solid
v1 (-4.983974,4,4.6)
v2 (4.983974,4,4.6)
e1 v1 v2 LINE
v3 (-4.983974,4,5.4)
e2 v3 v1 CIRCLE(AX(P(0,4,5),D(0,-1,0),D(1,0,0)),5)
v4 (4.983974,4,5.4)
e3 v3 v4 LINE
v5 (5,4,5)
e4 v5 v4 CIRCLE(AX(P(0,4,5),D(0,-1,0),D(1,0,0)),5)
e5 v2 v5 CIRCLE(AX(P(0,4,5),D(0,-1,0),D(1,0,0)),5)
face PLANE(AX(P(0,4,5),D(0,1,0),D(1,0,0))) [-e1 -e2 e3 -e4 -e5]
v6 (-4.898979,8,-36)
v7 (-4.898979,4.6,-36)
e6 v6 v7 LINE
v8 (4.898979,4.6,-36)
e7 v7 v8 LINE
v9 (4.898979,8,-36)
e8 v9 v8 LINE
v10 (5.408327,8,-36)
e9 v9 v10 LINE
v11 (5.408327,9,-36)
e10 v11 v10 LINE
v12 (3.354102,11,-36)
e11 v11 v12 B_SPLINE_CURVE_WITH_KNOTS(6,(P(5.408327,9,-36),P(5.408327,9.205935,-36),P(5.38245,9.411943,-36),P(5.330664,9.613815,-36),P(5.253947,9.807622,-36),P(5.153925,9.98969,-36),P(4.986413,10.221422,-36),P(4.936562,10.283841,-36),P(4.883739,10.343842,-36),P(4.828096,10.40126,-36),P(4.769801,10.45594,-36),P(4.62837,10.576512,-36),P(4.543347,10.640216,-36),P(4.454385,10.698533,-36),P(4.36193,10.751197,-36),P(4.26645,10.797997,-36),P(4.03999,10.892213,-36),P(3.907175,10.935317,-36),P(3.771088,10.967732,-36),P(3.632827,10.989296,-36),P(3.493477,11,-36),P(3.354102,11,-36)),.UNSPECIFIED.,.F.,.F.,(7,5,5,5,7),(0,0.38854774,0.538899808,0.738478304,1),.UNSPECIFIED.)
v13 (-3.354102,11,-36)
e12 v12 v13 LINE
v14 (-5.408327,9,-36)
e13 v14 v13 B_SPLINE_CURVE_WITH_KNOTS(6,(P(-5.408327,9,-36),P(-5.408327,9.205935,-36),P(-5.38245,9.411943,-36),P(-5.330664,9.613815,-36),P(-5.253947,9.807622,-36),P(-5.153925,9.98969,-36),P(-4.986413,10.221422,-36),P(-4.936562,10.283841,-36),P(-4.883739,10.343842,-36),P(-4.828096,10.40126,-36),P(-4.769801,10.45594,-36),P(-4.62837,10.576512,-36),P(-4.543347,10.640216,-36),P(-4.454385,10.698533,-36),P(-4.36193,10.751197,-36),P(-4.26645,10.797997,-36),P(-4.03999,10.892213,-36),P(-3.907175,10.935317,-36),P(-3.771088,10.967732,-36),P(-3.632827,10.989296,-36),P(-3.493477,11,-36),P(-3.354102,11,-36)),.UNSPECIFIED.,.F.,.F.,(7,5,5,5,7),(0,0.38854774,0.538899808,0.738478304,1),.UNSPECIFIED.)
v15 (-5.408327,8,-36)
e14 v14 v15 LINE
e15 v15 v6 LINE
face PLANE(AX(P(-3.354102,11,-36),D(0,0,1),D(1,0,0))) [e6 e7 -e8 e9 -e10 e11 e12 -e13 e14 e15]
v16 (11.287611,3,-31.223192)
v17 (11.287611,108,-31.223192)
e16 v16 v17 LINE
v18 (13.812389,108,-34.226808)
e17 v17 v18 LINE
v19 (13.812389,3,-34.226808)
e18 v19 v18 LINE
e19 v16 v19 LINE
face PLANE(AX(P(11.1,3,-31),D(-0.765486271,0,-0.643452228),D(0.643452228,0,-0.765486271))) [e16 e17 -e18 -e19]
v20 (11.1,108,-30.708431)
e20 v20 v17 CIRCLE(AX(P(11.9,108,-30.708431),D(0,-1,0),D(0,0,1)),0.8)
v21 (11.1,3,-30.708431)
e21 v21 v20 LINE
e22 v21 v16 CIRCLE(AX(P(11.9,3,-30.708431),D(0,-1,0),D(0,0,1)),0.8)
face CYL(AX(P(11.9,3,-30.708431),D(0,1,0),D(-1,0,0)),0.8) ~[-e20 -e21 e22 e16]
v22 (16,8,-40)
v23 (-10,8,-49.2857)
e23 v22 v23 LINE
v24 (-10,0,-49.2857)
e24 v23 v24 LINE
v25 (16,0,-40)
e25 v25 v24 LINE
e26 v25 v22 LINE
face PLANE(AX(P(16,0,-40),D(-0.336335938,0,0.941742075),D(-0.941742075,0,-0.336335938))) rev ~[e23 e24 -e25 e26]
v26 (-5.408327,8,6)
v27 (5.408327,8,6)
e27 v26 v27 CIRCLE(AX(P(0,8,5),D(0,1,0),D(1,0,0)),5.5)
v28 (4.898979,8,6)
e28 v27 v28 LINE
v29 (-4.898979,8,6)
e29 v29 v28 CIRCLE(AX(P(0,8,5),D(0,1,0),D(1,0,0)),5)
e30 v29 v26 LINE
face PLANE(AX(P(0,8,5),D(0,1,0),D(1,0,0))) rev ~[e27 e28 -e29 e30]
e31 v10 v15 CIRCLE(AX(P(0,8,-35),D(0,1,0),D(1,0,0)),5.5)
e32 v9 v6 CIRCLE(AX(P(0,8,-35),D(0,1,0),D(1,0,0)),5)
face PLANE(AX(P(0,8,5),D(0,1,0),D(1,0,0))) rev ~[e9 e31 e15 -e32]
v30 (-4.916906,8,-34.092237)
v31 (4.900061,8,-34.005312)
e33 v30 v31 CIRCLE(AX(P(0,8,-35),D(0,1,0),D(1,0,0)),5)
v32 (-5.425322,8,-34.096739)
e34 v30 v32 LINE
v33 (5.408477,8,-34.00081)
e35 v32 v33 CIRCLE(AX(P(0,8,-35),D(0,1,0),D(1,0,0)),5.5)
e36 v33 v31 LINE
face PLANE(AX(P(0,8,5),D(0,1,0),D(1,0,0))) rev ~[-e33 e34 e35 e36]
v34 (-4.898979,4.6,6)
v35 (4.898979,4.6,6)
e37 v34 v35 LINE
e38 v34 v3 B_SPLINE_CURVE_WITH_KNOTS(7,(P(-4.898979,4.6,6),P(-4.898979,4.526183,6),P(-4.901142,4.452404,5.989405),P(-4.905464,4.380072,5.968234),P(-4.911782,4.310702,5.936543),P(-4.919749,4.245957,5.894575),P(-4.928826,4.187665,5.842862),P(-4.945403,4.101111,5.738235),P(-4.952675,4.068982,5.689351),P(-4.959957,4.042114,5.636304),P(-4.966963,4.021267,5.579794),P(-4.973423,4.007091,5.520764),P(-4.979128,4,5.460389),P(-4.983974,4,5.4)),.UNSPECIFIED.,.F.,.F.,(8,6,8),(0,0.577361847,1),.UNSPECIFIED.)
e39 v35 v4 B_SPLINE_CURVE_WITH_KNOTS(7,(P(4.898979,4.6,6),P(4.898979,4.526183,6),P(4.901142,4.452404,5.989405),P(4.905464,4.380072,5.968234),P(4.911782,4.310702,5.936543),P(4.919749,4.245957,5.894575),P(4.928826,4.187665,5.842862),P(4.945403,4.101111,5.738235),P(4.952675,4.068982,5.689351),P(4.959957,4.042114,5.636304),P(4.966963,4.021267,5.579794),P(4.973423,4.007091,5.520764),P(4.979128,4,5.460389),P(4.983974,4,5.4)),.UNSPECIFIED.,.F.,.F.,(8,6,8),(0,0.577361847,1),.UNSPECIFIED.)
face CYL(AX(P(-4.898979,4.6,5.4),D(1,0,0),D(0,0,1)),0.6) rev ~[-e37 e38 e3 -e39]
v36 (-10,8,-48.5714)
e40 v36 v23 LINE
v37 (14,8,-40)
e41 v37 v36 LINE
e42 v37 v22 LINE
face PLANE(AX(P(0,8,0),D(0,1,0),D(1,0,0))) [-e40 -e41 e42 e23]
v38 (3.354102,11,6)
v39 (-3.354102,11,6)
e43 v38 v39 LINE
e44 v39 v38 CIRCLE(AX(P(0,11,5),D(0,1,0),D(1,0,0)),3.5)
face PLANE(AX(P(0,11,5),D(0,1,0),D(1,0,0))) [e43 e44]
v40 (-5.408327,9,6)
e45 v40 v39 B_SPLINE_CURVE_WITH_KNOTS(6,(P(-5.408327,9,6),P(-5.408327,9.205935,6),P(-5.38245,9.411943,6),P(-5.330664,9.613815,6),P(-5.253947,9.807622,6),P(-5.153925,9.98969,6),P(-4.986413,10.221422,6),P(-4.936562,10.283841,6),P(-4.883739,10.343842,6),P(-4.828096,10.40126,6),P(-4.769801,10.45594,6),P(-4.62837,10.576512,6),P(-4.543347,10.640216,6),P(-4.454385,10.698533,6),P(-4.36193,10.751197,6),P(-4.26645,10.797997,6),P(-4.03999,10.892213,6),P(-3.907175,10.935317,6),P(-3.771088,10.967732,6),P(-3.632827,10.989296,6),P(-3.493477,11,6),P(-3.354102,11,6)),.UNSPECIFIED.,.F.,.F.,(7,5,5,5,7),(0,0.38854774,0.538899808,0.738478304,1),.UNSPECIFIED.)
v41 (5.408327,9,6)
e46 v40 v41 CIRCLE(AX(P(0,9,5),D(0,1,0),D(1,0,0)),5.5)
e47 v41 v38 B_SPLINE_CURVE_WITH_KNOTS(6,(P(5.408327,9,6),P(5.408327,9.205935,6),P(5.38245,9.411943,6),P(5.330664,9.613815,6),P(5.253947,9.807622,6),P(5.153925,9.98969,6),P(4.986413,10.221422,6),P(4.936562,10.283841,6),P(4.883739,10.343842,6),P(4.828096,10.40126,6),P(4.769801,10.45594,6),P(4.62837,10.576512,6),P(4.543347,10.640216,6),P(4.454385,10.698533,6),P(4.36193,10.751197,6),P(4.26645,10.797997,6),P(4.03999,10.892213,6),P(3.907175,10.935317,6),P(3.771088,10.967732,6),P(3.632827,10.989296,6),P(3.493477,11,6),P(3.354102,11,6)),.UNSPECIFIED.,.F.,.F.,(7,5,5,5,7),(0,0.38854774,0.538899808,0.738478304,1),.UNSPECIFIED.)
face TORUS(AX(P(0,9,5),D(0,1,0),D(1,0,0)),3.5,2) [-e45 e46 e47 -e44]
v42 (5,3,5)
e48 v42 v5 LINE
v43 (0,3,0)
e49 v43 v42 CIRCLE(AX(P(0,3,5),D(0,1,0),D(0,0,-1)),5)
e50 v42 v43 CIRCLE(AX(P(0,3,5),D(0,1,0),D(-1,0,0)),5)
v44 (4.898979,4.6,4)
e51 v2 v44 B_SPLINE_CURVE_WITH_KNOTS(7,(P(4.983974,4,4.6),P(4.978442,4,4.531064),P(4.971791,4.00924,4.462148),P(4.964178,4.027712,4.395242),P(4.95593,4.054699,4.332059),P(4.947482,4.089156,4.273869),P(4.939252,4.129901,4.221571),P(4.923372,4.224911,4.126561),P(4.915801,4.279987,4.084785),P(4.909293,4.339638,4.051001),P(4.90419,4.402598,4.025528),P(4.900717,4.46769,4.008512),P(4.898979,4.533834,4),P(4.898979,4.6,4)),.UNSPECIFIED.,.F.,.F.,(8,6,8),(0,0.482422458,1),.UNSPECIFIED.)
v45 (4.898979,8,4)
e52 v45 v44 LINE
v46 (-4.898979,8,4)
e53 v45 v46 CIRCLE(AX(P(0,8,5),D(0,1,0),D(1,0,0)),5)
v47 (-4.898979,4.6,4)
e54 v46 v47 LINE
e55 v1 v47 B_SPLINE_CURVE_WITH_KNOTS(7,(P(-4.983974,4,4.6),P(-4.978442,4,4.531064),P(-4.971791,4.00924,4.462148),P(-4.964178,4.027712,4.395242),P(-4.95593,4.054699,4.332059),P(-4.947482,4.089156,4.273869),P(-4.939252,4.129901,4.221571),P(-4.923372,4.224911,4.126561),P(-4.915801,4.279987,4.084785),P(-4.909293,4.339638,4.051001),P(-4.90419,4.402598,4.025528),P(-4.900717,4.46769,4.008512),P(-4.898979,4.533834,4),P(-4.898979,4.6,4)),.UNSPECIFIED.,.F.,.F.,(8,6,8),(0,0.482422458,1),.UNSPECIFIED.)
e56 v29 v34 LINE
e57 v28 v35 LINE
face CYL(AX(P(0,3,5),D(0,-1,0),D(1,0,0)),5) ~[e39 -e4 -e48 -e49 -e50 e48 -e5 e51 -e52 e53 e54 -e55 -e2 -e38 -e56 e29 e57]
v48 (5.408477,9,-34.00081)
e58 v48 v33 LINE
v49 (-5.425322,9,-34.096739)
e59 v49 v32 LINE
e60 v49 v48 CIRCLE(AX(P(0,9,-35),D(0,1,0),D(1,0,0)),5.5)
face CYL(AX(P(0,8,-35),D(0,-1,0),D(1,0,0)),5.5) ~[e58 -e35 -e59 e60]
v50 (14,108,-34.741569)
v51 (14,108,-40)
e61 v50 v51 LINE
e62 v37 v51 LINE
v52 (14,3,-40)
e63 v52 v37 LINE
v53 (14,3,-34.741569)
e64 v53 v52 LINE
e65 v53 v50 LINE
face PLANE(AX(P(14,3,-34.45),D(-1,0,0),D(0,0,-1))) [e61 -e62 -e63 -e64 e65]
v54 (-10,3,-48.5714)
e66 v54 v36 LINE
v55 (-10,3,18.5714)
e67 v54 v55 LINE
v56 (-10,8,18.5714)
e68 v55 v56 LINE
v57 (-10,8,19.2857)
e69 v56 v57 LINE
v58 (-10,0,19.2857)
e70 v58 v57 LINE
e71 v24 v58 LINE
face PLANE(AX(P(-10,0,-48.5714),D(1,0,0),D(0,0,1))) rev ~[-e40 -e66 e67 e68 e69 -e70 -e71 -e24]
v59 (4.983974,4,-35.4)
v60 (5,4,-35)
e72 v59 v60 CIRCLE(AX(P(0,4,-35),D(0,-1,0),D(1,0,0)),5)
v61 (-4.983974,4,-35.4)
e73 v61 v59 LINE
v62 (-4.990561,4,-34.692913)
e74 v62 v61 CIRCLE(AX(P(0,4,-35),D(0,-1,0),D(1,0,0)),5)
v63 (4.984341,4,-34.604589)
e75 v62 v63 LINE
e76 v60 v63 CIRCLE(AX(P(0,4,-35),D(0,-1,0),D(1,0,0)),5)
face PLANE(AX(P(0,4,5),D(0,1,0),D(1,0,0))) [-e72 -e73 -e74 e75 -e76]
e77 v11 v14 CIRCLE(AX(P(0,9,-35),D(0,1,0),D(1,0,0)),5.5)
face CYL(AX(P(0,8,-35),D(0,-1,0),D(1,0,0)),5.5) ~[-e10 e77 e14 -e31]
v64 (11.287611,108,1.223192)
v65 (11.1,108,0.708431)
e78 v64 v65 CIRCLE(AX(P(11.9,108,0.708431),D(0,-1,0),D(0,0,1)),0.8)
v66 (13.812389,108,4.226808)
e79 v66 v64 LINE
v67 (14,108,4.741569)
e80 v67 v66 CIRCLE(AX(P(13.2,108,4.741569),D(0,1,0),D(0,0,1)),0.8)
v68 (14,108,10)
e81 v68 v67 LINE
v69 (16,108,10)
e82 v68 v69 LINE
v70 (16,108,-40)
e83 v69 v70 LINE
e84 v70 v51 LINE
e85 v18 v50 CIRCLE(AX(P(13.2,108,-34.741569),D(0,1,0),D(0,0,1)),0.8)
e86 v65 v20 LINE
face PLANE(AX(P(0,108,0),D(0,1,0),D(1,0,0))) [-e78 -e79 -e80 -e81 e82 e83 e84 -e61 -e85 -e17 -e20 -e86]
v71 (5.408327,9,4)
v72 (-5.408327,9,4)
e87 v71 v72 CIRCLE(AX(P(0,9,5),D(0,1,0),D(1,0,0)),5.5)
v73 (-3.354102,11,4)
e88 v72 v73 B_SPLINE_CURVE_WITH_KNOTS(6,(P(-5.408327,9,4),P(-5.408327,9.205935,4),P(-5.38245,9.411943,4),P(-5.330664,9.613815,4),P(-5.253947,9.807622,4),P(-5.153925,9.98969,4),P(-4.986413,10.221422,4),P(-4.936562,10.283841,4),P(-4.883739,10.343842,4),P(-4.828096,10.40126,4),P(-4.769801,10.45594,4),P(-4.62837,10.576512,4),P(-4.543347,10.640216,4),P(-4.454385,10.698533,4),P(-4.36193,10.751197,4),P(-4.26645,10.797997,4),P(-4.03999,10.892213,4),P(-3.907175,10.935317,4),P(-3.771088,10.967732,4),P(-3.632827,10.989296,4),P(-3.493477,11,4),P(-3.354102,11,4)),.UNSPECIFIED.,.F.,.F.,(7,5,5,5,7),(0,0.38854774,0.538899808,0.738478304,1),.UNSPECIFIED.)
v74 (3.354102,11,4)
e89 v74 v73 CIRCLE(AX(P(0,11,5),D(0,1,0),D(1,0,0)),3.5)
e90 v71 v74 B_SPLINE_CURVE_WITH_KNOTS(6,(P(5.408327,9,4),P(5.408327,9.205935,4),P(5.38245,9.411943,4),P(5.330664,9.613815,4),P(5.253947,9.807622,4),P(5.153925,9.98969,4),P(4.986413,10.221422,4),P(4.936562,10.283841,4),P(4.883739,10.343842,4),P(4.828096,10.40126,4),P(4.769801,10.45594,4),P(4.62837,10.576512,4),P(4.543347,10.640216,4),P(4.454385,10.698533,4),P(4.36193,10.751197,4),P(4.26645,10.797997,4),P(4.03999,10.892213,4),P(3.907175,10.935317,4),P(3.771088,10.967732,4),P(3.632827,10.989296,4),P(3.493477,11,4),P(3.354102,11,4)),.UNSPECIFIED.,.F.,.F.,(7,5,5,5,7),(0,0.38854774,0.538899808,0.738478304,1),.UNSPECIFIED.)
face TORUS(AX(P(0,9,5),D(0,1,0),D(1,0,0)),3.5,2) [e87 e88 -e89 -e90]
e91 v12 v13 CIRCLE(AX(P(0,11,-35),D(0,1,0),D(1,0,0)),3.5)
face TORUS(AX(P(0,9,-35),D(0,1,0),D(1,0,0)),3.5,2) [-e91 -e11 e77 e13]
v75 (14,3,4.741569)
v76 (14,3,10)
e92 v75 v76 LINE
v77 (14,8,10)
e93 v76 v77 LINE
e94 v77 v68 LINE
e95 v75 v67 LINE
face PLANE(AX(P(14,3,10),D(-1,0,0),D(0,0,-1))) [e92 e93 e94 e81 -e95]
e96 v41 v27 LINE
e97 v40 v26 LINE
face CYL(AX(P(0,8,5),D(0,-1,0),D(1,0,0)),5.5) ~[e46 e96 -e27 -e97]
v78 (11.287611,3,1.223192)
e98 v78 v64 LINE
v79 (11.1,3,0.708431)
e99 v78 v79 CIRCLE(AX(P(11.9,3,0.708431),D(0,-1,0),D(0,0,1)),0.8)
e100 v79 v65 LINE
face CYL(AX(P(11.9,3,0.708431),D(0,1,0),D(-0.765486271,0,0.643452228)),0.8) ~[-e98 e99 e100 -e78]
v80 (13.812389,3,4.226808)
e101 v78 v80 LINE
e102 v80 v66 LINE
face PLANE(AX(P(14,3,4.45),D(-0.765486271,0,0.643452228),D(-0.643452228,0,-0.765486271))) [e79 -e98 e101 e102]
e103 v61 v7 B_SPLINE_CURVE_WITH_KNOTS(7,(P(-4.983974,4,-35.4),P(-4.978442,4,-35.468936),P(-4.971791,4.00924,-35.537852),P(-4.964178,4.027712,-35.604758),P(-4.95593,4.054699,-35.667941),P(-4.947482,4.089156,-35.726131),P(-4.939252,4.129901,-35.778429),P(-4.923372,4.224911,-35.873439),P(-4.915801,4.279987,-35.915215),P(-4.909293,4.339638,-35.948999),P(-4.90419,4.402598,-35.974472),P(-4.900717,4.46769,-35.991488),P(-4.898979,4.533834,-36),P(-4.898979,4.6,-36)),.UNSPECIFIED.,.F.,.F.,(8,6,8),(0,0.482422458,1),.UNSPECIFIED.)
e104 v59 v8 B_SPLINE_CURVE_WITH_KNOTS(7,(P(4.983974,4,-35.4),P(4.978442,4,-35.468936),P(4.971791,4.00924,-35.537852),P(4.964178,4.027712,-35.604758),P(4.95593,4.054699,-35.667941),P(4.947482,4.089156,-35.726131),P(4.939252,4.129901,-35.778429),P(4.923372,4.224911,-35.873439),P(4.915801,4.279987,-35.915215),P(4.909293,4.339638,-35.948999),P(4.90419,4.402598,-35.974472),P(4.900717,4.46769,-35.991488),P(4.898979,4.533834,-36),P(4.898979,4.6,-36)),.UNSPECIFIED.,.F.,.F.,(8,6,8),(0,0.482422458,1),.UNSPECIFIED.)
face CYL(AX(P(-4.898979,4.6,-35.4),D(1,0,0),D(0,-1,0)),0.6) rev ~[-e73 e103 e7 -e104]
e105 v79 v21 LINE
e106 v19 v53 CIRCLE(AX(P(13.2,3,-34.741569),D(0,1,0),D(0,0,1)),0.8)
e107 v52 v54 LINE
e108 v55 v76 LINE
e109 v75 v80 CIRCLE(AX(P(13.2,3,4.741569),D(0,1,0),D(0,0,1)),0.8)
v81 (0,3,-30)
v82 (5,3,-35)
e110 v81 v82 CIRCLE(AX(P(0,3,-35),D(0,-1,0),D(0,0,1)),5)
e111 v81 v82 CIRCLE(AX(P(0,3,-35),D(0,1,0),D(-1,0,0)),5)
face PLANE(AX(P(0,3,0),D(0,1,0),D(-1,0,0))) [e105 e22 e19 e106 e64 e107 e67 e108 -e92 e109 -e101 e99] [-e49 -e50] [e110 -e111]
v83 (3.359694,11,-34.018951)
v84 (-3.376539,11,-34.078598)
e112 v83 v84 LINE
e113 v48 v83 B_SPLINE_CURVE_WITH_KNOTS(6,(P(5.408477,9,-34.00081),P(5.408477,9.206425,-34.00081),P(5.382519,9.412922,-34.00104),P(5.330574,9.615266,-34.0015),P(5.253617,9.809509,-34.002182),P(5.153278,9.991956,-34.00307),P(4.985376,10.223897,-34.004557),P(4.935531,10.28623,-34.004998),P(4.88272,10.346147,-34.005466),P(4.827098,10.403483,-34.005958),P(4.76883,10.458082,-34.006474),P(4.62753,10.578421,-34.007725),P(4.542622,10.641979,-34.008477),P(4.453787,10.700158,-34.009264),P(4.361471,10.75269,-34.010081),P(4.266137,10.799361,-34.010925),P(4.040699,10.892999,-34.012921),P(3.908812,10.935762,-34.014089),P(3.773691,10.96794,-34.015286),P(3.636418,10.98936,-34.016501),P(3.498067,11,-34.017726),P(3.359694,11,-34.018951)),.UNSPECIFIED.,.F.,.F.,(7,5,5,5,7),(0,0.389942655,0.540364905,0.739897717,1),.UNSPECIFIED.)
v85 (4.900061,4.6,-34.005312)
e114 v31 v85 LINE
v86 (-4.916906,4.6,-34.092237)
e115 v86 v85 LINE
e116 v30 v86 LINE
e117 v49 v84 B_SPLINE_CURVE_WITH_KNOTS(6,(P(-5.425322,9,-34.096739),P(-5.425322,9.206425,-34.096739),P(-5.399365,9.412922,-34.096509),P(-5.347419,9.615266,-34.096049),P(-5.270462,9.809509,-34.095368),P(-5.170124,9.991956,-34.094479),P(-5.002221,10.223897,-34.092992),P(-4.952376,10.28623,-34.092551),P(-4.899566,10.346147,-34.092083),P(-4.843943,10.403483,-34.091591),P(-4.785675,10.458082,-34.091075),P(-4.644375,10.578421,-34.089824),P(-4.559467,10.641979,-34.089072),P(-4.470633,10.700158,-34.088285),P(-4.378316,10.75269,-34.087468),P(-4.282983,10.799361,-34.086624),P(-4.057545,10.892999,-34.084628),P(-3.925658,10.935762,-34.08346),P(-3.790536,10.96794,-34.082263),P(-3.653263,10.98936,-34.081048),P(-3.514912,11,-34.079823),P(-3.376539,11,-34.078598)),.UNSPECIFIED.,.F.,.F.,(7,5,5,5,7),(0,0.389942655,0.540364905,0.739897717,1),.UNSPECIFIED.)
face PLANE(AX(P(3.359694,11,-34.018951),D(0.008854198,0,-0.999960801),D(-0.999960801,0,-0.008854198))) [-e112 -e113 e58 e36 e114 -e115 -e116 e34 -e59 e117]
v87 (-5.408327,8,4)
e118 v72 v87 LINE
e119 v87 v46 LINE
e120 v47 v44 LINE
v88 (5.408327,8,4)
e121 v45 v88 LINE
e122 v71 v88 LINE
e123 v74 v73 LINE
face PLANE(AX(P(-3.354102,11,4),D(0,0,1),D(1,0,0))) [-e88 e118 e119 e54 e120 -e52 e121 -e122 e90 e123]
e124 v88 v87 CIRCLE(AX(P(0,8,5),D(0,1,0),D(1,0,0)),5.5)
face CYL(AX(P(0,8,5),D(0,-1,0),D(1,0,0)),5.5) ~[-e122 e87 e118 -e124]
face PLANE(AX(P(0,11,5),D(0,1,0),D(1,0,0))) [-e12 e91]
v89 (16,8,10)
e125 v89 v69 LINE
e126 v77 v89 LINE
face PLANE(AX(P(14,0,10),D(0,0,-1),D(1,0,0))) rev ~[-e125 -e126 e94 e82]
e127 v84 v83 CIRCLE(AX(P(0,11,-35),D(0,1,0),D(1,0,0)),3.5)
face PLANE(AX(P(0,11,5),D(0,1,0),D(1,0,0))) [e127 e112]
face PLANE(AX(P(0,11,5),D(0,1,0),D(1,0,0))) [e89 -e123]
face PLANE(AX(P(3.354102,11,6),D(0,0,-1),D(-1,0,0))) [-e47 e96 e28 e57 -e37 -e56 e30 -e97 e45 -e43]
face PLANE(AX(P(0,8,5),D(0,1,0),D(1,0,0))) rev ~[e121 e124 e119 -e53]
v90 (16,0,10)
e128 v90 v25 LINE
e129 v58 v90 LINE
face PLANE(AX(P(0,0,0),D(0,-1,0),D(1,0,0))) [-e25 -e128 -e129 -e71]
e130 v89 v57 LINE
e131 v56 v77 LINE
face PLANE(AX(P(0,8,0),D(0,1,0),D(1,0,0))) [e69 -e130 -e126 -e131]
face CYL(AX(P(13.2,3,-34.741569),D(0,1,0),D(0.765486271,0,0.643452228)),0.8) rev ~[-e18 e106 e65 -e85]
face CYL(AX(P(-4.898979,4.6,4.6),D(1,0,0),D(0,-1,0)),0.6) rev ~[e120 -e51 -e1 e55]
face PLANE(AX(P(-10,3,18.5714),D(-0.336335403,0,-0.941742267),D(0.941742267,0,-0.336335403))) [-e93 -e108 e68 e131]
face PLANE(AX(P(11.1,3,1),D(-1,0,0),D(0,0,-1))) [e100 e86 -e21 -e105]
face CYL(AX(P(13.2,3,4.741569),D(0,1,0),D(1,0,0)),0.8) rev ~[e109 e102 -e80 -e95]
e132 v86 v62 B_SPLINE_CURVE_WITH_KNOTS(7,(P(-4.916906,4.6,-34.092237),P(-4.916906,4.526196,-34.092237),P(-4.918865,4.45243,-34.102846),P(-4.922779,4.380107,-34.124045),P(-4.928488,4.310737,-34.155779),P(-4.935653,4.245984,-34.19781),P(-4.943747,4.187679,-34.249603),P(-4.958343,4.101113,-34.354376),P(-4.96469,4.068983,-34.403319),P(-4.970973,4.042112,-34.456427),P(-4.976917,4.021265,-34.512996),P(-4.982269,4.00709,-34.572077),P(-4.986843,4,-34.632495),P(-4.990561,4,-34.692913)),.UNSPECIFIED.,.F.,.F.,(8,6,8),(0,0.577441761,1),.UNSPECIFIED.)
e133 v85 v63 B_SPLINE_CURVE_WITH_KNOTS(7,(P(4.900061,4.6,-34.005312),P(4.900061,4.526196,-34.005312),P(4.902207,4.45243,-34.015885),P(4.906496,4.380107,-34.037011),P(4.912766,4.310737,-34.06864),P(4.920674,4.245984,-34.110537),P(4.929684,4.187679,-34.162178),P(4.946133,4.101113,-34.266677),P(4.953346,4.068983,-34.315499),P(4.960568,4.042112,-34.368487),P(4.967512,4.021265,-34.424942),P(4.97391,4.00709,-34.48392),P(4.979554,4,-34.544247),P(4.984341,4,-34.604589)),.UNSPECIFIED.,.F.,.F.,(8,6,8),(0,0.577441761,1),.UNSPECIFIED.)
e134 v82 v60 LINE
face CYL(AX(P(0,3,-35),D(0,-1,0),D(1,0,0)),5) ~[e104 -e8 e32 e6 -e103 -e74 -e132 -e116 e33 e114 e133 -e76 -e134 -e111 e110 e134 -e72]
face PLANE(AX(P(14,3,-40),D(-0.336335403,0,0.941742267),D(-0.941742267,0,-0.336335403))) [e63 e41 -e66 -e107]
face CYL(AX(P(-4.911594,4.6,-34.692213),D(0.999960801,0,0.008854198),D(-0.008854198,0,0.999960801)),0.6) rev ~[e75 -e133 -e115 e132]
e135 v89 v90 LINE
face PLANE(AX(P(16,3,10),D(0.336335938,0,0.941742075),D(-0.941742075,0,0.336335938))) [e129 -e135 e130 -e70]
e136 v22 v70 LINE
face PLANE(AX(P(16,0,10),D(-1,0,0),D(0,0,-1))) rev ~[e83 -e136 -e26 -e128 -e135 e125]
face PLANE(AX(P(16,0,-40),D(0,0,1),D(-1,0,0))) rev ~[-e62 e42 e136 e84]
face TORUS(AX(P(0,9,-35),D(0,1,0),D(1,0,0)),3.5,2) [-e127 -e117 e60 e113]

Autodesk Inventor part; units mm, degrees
ref_plane "YZ Plane" through (0, 0, 0) normal (1, 0, 0) x (0, 1, 0)
ref_plane "XZ Plane" through (0, 0, 0) normal (0, 1, 0) x (-1, 0, 0)
ref_plane "XY Plane" through (0, 0, 0) normal (0, 0, 1) x (1, 0, 0)
sketch "Sketch1" plane through (0, 0, 0) normal (0, 1, 0) x (-1, 0, 0)
  line L0 (0, 0) -> (0, -30)
  circle A0 centre (0, 5) radius 5
  circle A1 centre (0, -35) radius 5
  line L1 (-5, 5) -> (-14, 5) construction
  line L2 (0, 10) -> (0, 15) construction
  line L3 (0, 10) -> (-14, 10) construction
  line L4 (5, 5) -> (10, 5) construction
  line L5 (-14, 5) -> (-11.1, 5) construction
  line L6 (0, 0) -> (-14, 0) construction
  line L7 (-11.1, 0) -> (-11.1, 1) construction
  line L8 (5, -35) -> (10, -35) construction
  line L9 (0, -40) -> (0, -45) construction
  line L10 (-5, -35) -> (-14, -35) construction
  line L11 (0, -40) -> (-14, -40) construction
  line L12 (0, -30) -> (-14, -30) construction
  line L13 (-11.1, -30) -> (-11.1, -31) construction
  line L14 (-14, 10) -> (0, 15)
  line L15 (0, 15) -> (10, 18.5714)
  line L16 (-14, -40) -> (0, -45)
  line L17 (0, -45) -> (10, -48.5714)
  line L18 (10, -48.5714) -> (10, 18.5714)
  line L19 (-14, 10) -> (-14, 5)
  line L20 (-11.1, 1) -> (-11.1, -31)
  line L21 (-14, -40) -> (-14, -35)
  line L22 (-14, 10) -> (-14, 3.9) construction
  line L23 (-14, -40) -> (-14, -33.9) construction
  line L24 (-11.1, 1) -> (-14, 4.45)
  line L25 (-11.1, -31) -> (-14, -34.45)
  line L26 (-14, 4.45) -> (-14, 5)
  line L27 (-14, -34.45) -> (-14, -35)
  dimension "d0" = 30
  dimension "d3" = 9
  dimension "d4" = 5
  dimension "d5" = 5
  dimension "d6" = 2.9
  dimension "d7" = 1
  dimension "d8" = 5
  dimension "d9" = 1
  dimension "d10" = 6.1
  dimension "d11" = 6.1
extrude "Extrusion3" add sketch "Sketch1" along normal blind 3
sketch "Sketch4" plane through (0, 3, 0) normal (0, 1, 0) x (1, 0, 0)
  circle A0 centre (0, 35) radius 5 projected
  circle A1 centre (0, -5) radius 5 projected
  point P0 (0, 0)
sketch "Sketch5" plane through (0, 3, 0) normal (0, 1, 0) x (1, 0, 0)
  point P0 (0, 0)
extrude "Extrusion4" add sketch "Sketch4" along normal blind 5
sketch "Sketch6" plane through (0, 8, 5) normal (0, 1, 0) x (1, 0, 0)
  circle A0 centre (0, 0) radius 5.5
  circle A1 centre (0, 40) radius 5 projected
  circle A2 centre (0, 40) radius 5.5
  point P0 (0, 5)
  dimension "d20" = 11
  dimension "d21" = 11
extrude "Extrusion5" add sketch "Sketch6" along normal blind 3 contours A0 | A1 | A2
fillet "Fillet1" radius 2 2 edges at (-5.5, 11, 5) (-5.5, 11, -35)
sketch "Sketch7" plane through (0, 11, 5) normal (0, 1, 0) x (1, 0, 0)
  circle A0 centre (0, 0) radius 3.5 projected
  circle A1 centre (0, 40) radius 3.5 projected
  circle A2 centre (0, 0) radius 5.5 projected
  line L0 (-5.5, 0) -> (-5.5, 1)
  line L1 (-5.5, 1) -> (5.5, 1)
  line L2 (5.5, 1) -> (5.5, -1)
  line L3 (5.5, -1) -> (-5.5, -1)
  line L4 (-5.5, -1) -> (-5.5, 0)
  line L5 (-5.5, 40) -> (-5.5, 41)
  line L6 (-5.5, 41) -> (5.5, 41)
  line L7 (5.5, 41) -> (5.5, 39)
  line L8 (5.5, 39) -> (-5.5, 39.0974)
  line L9 (-5.5, 39.0974) -> (-5.5, 40)
  circle A3 centre (0, 40) radius 5.5 projected
  point P0 (0, 5)
  dimension "d25" = 1
  dimension "d26" = 2
  dimension "d27" = 1
  dimension "d28" = 2
extrude "Extrusion6" cut sketch "Sketch7" against normal blind 7 contours A0 L3 L1 | A0 L1 A2 L3 | A0 L3 A2 L1 | L1 L2 A2 | A2 L2 L3 | A2 L0 L1 | L3 L4 A2 | A1 L8 L6 | A1 L6 A3 L8 | A1 L8 A3 L6 | L6 L7 A3 | A3 L7 L8 | A3 L5 L6 | L8 L9 A3
fillet "Fillet2" radius 0.6 4 edges at (0, 4, 6) (0, 4, 4) (-0.0084, 4, -34.0488) (0, 4, -36)
sketch "Sketch8" plane through (0, 0, 0) normal (0, -1, 0) x (1, 0, 0)
  circle A0 centre (0, 5) radius 5 projected
  circle A1 centre (0, -35) radius 5 projected
  point P0 (0, 0)
extrude "Extrusion7" add sketch "Sketch8" against normal blind 3
sketch "Sketch9" plane through (0, 3, 0) normal (0, 1, 0) x (1, 0, 0)
  circle A0 centre (0, 35) radius 5 projected
  circle A1 centre (0, -5) radius 5 projected
  line L0 (14, -10) -> (14, -4.45) projected
  line L1 (14, -4.45) -> (11.1, -1) projected
  line L2 (11.1, -1) -> (11.1, 31) projected
  line L3 (11.1, 31) -> (14, 34.45) projected
  line L4 (14, 34.45) -> (14, 40) projected
  line L5 (14, 40) -> (-10, 48.5714) projected
  line L6 (-10, 48.5714) -> (-10, -18.5714) projected
  line L7 (-10, -18.5714) -> (14, -10) projected
  line L8 (14, -10) -> (16, -10)
  line L9 (16, -10) -> (16, 40)
  line L10 (16, 40) -> (14, 40)
  point P0 (0, 0)
  dimension "d34" = 2
extrude "Extrusion8" add sketch "Sketch9" along normal blind 105 contours L0 L1 L2 L3 L4 L10 L9 L8
sketch "Sketch10" plane through (0, 0, 0) normal (0, -1, 0) x (1, 0, 0)
  line L0 (14, 4.45) -> (14, 10) projected
  line L1 (14, 10) -> (-10, 18.5714) projected
  line L2 (-10, 18.5714) -> (-10, -48.5714) projected
  line L3 (-10, -48.5714) -> (14, -40) projected
  line L4 (14, -40) -> (14, -34.45) projected
  line L5 (14, -34.45) -> (11.1, -31) projected
  line L6 (11.1, -31) -> (11.1, 1) projected
  line L7 (11.1, 1) -> (14, 4.45) projected
  line L8 (14, 10) -> (16, 10) projected
  line L9 (14, 10) -> (14, 4.45) projected
  line L10 (14, 4.45) -> (11.1, 1) projected
  line L11 (11.1, 1) -> (11.1, -31) projected
  line L12 (11.1, -31) -> (14, -34.45) projected
  line L13 (14, -34.45) -> (14, -40) projected
  line L14 (16, -40) -> (14, -40) projected
  line L15 (16, 10) -> (16, -40) projected
  point P0 (0, 0)
extrude "Extrusion9" add sketch "Sketch10" against normal blind 3 contours L0 L8 L15 L14 L4 L5 L6 L7
fillet "Fillet3" radius 0.8 4 edges at (11.1, 55.5, 1) (14, 55.5, 4.45) (14, 55.5, -34.45) (11.1, 55.5, -31)
sketch "Sketch11" plane through (0, 3, 0) normal (0, 1, 0) x (1, 0, 0)
  arc A0 (13.8124, 34.2268) -> (14, 34.7416) centre (13.2, 34.7416) ccw projected
  line L0 (14, 34.7416) -> (14, 40) projected
  line L1 (14, 40) -> (-10, 48.5714) projected
  line L2 (-10, 48.5714) -> (-10, -18.5714) projected
  line L3 (-10, -18.5714) -> (14, -10) projected
  line L4 (14, -10) -> (14, -4.7416) projected
  arc A1 (14, -4.7416) -> (13.8124, -4.2268) centre (13.2, -4.7416) ccw projected
  line L5 (13.8124, -4.2268) -> (11.2876, -1.2232) projected
  arc A2 (11.1, -0.7084) -> (11.2876, -1.2232) centre (11.9, -0.7084) ccw projected
  line L6 (11.1, -0.7084) -> (11.1, 30.7084) projected
  arc A3 (11.2876, 31.2232) -> (11.1, 30.7084) centre (11.9, 30.7084) ccw projected
  line L7 (11.2876, 31.2232) -> (13.8124, 34.2268) projected
  circle A4 centre (0, -5) radius 5 projected
  circle A5 centre (0, 35) radius 5 projected
  line L8 (-10, 48.5714) -> (-10, -18.5714) projected
  line L9 (-10, 48.5714) -> (-10, 52.4265)
  line L10 (11.1, 40) -> (23.5531, 40)
  line L11 (16, 40) -> (14, 40) projected
  line L12 (16, 40) -> (-10, 49.2857)
  line L13 (14, -10) -> (19.1534, -10)
  line L14 (-10, -18.5714) -> (14, -10) projected
  line L15 (-10, -18.5714) -> (-10, -22.2627)
  line L16 (16, -10) -> (16, 40) projected
  line L17 (16, -10) -> (-10, -19.2857)
  point P0 (0, 0)
extrude "Extrusion10" add sketch "Sketch11" along normal blind 5 contours L1 L9 L12 L10 | L3 L13 L17 L15
sketch "Sketch12" plane through (0, 0, 0) normal (0, -1, 0) x (1, 0, 0)
  line L0 (14, -40) -> (16, -40) projected
  line L1 (14, -40) -> (-10, -48.5714) projected
  line L2 (-10, -49.2857) -> (-10, -48.5714) projected
  line L3 (16, -40) -> (-10, -49.2857) projected
  line L4 (-10, 18.5714) -> (-10, 19.2857) projected
  line L5 (-10, 18.5714) -> (14, 10) projected
  line L6 (16, 10) -> (14, 10) projected
  line L7 (-10, 19.2857) -> (16, 10) projected
  point P0 (0, 0)
extrude "Extrusion11" add sketch "Sketch12" against normal blind 3
properties part number "SOPORTE"
